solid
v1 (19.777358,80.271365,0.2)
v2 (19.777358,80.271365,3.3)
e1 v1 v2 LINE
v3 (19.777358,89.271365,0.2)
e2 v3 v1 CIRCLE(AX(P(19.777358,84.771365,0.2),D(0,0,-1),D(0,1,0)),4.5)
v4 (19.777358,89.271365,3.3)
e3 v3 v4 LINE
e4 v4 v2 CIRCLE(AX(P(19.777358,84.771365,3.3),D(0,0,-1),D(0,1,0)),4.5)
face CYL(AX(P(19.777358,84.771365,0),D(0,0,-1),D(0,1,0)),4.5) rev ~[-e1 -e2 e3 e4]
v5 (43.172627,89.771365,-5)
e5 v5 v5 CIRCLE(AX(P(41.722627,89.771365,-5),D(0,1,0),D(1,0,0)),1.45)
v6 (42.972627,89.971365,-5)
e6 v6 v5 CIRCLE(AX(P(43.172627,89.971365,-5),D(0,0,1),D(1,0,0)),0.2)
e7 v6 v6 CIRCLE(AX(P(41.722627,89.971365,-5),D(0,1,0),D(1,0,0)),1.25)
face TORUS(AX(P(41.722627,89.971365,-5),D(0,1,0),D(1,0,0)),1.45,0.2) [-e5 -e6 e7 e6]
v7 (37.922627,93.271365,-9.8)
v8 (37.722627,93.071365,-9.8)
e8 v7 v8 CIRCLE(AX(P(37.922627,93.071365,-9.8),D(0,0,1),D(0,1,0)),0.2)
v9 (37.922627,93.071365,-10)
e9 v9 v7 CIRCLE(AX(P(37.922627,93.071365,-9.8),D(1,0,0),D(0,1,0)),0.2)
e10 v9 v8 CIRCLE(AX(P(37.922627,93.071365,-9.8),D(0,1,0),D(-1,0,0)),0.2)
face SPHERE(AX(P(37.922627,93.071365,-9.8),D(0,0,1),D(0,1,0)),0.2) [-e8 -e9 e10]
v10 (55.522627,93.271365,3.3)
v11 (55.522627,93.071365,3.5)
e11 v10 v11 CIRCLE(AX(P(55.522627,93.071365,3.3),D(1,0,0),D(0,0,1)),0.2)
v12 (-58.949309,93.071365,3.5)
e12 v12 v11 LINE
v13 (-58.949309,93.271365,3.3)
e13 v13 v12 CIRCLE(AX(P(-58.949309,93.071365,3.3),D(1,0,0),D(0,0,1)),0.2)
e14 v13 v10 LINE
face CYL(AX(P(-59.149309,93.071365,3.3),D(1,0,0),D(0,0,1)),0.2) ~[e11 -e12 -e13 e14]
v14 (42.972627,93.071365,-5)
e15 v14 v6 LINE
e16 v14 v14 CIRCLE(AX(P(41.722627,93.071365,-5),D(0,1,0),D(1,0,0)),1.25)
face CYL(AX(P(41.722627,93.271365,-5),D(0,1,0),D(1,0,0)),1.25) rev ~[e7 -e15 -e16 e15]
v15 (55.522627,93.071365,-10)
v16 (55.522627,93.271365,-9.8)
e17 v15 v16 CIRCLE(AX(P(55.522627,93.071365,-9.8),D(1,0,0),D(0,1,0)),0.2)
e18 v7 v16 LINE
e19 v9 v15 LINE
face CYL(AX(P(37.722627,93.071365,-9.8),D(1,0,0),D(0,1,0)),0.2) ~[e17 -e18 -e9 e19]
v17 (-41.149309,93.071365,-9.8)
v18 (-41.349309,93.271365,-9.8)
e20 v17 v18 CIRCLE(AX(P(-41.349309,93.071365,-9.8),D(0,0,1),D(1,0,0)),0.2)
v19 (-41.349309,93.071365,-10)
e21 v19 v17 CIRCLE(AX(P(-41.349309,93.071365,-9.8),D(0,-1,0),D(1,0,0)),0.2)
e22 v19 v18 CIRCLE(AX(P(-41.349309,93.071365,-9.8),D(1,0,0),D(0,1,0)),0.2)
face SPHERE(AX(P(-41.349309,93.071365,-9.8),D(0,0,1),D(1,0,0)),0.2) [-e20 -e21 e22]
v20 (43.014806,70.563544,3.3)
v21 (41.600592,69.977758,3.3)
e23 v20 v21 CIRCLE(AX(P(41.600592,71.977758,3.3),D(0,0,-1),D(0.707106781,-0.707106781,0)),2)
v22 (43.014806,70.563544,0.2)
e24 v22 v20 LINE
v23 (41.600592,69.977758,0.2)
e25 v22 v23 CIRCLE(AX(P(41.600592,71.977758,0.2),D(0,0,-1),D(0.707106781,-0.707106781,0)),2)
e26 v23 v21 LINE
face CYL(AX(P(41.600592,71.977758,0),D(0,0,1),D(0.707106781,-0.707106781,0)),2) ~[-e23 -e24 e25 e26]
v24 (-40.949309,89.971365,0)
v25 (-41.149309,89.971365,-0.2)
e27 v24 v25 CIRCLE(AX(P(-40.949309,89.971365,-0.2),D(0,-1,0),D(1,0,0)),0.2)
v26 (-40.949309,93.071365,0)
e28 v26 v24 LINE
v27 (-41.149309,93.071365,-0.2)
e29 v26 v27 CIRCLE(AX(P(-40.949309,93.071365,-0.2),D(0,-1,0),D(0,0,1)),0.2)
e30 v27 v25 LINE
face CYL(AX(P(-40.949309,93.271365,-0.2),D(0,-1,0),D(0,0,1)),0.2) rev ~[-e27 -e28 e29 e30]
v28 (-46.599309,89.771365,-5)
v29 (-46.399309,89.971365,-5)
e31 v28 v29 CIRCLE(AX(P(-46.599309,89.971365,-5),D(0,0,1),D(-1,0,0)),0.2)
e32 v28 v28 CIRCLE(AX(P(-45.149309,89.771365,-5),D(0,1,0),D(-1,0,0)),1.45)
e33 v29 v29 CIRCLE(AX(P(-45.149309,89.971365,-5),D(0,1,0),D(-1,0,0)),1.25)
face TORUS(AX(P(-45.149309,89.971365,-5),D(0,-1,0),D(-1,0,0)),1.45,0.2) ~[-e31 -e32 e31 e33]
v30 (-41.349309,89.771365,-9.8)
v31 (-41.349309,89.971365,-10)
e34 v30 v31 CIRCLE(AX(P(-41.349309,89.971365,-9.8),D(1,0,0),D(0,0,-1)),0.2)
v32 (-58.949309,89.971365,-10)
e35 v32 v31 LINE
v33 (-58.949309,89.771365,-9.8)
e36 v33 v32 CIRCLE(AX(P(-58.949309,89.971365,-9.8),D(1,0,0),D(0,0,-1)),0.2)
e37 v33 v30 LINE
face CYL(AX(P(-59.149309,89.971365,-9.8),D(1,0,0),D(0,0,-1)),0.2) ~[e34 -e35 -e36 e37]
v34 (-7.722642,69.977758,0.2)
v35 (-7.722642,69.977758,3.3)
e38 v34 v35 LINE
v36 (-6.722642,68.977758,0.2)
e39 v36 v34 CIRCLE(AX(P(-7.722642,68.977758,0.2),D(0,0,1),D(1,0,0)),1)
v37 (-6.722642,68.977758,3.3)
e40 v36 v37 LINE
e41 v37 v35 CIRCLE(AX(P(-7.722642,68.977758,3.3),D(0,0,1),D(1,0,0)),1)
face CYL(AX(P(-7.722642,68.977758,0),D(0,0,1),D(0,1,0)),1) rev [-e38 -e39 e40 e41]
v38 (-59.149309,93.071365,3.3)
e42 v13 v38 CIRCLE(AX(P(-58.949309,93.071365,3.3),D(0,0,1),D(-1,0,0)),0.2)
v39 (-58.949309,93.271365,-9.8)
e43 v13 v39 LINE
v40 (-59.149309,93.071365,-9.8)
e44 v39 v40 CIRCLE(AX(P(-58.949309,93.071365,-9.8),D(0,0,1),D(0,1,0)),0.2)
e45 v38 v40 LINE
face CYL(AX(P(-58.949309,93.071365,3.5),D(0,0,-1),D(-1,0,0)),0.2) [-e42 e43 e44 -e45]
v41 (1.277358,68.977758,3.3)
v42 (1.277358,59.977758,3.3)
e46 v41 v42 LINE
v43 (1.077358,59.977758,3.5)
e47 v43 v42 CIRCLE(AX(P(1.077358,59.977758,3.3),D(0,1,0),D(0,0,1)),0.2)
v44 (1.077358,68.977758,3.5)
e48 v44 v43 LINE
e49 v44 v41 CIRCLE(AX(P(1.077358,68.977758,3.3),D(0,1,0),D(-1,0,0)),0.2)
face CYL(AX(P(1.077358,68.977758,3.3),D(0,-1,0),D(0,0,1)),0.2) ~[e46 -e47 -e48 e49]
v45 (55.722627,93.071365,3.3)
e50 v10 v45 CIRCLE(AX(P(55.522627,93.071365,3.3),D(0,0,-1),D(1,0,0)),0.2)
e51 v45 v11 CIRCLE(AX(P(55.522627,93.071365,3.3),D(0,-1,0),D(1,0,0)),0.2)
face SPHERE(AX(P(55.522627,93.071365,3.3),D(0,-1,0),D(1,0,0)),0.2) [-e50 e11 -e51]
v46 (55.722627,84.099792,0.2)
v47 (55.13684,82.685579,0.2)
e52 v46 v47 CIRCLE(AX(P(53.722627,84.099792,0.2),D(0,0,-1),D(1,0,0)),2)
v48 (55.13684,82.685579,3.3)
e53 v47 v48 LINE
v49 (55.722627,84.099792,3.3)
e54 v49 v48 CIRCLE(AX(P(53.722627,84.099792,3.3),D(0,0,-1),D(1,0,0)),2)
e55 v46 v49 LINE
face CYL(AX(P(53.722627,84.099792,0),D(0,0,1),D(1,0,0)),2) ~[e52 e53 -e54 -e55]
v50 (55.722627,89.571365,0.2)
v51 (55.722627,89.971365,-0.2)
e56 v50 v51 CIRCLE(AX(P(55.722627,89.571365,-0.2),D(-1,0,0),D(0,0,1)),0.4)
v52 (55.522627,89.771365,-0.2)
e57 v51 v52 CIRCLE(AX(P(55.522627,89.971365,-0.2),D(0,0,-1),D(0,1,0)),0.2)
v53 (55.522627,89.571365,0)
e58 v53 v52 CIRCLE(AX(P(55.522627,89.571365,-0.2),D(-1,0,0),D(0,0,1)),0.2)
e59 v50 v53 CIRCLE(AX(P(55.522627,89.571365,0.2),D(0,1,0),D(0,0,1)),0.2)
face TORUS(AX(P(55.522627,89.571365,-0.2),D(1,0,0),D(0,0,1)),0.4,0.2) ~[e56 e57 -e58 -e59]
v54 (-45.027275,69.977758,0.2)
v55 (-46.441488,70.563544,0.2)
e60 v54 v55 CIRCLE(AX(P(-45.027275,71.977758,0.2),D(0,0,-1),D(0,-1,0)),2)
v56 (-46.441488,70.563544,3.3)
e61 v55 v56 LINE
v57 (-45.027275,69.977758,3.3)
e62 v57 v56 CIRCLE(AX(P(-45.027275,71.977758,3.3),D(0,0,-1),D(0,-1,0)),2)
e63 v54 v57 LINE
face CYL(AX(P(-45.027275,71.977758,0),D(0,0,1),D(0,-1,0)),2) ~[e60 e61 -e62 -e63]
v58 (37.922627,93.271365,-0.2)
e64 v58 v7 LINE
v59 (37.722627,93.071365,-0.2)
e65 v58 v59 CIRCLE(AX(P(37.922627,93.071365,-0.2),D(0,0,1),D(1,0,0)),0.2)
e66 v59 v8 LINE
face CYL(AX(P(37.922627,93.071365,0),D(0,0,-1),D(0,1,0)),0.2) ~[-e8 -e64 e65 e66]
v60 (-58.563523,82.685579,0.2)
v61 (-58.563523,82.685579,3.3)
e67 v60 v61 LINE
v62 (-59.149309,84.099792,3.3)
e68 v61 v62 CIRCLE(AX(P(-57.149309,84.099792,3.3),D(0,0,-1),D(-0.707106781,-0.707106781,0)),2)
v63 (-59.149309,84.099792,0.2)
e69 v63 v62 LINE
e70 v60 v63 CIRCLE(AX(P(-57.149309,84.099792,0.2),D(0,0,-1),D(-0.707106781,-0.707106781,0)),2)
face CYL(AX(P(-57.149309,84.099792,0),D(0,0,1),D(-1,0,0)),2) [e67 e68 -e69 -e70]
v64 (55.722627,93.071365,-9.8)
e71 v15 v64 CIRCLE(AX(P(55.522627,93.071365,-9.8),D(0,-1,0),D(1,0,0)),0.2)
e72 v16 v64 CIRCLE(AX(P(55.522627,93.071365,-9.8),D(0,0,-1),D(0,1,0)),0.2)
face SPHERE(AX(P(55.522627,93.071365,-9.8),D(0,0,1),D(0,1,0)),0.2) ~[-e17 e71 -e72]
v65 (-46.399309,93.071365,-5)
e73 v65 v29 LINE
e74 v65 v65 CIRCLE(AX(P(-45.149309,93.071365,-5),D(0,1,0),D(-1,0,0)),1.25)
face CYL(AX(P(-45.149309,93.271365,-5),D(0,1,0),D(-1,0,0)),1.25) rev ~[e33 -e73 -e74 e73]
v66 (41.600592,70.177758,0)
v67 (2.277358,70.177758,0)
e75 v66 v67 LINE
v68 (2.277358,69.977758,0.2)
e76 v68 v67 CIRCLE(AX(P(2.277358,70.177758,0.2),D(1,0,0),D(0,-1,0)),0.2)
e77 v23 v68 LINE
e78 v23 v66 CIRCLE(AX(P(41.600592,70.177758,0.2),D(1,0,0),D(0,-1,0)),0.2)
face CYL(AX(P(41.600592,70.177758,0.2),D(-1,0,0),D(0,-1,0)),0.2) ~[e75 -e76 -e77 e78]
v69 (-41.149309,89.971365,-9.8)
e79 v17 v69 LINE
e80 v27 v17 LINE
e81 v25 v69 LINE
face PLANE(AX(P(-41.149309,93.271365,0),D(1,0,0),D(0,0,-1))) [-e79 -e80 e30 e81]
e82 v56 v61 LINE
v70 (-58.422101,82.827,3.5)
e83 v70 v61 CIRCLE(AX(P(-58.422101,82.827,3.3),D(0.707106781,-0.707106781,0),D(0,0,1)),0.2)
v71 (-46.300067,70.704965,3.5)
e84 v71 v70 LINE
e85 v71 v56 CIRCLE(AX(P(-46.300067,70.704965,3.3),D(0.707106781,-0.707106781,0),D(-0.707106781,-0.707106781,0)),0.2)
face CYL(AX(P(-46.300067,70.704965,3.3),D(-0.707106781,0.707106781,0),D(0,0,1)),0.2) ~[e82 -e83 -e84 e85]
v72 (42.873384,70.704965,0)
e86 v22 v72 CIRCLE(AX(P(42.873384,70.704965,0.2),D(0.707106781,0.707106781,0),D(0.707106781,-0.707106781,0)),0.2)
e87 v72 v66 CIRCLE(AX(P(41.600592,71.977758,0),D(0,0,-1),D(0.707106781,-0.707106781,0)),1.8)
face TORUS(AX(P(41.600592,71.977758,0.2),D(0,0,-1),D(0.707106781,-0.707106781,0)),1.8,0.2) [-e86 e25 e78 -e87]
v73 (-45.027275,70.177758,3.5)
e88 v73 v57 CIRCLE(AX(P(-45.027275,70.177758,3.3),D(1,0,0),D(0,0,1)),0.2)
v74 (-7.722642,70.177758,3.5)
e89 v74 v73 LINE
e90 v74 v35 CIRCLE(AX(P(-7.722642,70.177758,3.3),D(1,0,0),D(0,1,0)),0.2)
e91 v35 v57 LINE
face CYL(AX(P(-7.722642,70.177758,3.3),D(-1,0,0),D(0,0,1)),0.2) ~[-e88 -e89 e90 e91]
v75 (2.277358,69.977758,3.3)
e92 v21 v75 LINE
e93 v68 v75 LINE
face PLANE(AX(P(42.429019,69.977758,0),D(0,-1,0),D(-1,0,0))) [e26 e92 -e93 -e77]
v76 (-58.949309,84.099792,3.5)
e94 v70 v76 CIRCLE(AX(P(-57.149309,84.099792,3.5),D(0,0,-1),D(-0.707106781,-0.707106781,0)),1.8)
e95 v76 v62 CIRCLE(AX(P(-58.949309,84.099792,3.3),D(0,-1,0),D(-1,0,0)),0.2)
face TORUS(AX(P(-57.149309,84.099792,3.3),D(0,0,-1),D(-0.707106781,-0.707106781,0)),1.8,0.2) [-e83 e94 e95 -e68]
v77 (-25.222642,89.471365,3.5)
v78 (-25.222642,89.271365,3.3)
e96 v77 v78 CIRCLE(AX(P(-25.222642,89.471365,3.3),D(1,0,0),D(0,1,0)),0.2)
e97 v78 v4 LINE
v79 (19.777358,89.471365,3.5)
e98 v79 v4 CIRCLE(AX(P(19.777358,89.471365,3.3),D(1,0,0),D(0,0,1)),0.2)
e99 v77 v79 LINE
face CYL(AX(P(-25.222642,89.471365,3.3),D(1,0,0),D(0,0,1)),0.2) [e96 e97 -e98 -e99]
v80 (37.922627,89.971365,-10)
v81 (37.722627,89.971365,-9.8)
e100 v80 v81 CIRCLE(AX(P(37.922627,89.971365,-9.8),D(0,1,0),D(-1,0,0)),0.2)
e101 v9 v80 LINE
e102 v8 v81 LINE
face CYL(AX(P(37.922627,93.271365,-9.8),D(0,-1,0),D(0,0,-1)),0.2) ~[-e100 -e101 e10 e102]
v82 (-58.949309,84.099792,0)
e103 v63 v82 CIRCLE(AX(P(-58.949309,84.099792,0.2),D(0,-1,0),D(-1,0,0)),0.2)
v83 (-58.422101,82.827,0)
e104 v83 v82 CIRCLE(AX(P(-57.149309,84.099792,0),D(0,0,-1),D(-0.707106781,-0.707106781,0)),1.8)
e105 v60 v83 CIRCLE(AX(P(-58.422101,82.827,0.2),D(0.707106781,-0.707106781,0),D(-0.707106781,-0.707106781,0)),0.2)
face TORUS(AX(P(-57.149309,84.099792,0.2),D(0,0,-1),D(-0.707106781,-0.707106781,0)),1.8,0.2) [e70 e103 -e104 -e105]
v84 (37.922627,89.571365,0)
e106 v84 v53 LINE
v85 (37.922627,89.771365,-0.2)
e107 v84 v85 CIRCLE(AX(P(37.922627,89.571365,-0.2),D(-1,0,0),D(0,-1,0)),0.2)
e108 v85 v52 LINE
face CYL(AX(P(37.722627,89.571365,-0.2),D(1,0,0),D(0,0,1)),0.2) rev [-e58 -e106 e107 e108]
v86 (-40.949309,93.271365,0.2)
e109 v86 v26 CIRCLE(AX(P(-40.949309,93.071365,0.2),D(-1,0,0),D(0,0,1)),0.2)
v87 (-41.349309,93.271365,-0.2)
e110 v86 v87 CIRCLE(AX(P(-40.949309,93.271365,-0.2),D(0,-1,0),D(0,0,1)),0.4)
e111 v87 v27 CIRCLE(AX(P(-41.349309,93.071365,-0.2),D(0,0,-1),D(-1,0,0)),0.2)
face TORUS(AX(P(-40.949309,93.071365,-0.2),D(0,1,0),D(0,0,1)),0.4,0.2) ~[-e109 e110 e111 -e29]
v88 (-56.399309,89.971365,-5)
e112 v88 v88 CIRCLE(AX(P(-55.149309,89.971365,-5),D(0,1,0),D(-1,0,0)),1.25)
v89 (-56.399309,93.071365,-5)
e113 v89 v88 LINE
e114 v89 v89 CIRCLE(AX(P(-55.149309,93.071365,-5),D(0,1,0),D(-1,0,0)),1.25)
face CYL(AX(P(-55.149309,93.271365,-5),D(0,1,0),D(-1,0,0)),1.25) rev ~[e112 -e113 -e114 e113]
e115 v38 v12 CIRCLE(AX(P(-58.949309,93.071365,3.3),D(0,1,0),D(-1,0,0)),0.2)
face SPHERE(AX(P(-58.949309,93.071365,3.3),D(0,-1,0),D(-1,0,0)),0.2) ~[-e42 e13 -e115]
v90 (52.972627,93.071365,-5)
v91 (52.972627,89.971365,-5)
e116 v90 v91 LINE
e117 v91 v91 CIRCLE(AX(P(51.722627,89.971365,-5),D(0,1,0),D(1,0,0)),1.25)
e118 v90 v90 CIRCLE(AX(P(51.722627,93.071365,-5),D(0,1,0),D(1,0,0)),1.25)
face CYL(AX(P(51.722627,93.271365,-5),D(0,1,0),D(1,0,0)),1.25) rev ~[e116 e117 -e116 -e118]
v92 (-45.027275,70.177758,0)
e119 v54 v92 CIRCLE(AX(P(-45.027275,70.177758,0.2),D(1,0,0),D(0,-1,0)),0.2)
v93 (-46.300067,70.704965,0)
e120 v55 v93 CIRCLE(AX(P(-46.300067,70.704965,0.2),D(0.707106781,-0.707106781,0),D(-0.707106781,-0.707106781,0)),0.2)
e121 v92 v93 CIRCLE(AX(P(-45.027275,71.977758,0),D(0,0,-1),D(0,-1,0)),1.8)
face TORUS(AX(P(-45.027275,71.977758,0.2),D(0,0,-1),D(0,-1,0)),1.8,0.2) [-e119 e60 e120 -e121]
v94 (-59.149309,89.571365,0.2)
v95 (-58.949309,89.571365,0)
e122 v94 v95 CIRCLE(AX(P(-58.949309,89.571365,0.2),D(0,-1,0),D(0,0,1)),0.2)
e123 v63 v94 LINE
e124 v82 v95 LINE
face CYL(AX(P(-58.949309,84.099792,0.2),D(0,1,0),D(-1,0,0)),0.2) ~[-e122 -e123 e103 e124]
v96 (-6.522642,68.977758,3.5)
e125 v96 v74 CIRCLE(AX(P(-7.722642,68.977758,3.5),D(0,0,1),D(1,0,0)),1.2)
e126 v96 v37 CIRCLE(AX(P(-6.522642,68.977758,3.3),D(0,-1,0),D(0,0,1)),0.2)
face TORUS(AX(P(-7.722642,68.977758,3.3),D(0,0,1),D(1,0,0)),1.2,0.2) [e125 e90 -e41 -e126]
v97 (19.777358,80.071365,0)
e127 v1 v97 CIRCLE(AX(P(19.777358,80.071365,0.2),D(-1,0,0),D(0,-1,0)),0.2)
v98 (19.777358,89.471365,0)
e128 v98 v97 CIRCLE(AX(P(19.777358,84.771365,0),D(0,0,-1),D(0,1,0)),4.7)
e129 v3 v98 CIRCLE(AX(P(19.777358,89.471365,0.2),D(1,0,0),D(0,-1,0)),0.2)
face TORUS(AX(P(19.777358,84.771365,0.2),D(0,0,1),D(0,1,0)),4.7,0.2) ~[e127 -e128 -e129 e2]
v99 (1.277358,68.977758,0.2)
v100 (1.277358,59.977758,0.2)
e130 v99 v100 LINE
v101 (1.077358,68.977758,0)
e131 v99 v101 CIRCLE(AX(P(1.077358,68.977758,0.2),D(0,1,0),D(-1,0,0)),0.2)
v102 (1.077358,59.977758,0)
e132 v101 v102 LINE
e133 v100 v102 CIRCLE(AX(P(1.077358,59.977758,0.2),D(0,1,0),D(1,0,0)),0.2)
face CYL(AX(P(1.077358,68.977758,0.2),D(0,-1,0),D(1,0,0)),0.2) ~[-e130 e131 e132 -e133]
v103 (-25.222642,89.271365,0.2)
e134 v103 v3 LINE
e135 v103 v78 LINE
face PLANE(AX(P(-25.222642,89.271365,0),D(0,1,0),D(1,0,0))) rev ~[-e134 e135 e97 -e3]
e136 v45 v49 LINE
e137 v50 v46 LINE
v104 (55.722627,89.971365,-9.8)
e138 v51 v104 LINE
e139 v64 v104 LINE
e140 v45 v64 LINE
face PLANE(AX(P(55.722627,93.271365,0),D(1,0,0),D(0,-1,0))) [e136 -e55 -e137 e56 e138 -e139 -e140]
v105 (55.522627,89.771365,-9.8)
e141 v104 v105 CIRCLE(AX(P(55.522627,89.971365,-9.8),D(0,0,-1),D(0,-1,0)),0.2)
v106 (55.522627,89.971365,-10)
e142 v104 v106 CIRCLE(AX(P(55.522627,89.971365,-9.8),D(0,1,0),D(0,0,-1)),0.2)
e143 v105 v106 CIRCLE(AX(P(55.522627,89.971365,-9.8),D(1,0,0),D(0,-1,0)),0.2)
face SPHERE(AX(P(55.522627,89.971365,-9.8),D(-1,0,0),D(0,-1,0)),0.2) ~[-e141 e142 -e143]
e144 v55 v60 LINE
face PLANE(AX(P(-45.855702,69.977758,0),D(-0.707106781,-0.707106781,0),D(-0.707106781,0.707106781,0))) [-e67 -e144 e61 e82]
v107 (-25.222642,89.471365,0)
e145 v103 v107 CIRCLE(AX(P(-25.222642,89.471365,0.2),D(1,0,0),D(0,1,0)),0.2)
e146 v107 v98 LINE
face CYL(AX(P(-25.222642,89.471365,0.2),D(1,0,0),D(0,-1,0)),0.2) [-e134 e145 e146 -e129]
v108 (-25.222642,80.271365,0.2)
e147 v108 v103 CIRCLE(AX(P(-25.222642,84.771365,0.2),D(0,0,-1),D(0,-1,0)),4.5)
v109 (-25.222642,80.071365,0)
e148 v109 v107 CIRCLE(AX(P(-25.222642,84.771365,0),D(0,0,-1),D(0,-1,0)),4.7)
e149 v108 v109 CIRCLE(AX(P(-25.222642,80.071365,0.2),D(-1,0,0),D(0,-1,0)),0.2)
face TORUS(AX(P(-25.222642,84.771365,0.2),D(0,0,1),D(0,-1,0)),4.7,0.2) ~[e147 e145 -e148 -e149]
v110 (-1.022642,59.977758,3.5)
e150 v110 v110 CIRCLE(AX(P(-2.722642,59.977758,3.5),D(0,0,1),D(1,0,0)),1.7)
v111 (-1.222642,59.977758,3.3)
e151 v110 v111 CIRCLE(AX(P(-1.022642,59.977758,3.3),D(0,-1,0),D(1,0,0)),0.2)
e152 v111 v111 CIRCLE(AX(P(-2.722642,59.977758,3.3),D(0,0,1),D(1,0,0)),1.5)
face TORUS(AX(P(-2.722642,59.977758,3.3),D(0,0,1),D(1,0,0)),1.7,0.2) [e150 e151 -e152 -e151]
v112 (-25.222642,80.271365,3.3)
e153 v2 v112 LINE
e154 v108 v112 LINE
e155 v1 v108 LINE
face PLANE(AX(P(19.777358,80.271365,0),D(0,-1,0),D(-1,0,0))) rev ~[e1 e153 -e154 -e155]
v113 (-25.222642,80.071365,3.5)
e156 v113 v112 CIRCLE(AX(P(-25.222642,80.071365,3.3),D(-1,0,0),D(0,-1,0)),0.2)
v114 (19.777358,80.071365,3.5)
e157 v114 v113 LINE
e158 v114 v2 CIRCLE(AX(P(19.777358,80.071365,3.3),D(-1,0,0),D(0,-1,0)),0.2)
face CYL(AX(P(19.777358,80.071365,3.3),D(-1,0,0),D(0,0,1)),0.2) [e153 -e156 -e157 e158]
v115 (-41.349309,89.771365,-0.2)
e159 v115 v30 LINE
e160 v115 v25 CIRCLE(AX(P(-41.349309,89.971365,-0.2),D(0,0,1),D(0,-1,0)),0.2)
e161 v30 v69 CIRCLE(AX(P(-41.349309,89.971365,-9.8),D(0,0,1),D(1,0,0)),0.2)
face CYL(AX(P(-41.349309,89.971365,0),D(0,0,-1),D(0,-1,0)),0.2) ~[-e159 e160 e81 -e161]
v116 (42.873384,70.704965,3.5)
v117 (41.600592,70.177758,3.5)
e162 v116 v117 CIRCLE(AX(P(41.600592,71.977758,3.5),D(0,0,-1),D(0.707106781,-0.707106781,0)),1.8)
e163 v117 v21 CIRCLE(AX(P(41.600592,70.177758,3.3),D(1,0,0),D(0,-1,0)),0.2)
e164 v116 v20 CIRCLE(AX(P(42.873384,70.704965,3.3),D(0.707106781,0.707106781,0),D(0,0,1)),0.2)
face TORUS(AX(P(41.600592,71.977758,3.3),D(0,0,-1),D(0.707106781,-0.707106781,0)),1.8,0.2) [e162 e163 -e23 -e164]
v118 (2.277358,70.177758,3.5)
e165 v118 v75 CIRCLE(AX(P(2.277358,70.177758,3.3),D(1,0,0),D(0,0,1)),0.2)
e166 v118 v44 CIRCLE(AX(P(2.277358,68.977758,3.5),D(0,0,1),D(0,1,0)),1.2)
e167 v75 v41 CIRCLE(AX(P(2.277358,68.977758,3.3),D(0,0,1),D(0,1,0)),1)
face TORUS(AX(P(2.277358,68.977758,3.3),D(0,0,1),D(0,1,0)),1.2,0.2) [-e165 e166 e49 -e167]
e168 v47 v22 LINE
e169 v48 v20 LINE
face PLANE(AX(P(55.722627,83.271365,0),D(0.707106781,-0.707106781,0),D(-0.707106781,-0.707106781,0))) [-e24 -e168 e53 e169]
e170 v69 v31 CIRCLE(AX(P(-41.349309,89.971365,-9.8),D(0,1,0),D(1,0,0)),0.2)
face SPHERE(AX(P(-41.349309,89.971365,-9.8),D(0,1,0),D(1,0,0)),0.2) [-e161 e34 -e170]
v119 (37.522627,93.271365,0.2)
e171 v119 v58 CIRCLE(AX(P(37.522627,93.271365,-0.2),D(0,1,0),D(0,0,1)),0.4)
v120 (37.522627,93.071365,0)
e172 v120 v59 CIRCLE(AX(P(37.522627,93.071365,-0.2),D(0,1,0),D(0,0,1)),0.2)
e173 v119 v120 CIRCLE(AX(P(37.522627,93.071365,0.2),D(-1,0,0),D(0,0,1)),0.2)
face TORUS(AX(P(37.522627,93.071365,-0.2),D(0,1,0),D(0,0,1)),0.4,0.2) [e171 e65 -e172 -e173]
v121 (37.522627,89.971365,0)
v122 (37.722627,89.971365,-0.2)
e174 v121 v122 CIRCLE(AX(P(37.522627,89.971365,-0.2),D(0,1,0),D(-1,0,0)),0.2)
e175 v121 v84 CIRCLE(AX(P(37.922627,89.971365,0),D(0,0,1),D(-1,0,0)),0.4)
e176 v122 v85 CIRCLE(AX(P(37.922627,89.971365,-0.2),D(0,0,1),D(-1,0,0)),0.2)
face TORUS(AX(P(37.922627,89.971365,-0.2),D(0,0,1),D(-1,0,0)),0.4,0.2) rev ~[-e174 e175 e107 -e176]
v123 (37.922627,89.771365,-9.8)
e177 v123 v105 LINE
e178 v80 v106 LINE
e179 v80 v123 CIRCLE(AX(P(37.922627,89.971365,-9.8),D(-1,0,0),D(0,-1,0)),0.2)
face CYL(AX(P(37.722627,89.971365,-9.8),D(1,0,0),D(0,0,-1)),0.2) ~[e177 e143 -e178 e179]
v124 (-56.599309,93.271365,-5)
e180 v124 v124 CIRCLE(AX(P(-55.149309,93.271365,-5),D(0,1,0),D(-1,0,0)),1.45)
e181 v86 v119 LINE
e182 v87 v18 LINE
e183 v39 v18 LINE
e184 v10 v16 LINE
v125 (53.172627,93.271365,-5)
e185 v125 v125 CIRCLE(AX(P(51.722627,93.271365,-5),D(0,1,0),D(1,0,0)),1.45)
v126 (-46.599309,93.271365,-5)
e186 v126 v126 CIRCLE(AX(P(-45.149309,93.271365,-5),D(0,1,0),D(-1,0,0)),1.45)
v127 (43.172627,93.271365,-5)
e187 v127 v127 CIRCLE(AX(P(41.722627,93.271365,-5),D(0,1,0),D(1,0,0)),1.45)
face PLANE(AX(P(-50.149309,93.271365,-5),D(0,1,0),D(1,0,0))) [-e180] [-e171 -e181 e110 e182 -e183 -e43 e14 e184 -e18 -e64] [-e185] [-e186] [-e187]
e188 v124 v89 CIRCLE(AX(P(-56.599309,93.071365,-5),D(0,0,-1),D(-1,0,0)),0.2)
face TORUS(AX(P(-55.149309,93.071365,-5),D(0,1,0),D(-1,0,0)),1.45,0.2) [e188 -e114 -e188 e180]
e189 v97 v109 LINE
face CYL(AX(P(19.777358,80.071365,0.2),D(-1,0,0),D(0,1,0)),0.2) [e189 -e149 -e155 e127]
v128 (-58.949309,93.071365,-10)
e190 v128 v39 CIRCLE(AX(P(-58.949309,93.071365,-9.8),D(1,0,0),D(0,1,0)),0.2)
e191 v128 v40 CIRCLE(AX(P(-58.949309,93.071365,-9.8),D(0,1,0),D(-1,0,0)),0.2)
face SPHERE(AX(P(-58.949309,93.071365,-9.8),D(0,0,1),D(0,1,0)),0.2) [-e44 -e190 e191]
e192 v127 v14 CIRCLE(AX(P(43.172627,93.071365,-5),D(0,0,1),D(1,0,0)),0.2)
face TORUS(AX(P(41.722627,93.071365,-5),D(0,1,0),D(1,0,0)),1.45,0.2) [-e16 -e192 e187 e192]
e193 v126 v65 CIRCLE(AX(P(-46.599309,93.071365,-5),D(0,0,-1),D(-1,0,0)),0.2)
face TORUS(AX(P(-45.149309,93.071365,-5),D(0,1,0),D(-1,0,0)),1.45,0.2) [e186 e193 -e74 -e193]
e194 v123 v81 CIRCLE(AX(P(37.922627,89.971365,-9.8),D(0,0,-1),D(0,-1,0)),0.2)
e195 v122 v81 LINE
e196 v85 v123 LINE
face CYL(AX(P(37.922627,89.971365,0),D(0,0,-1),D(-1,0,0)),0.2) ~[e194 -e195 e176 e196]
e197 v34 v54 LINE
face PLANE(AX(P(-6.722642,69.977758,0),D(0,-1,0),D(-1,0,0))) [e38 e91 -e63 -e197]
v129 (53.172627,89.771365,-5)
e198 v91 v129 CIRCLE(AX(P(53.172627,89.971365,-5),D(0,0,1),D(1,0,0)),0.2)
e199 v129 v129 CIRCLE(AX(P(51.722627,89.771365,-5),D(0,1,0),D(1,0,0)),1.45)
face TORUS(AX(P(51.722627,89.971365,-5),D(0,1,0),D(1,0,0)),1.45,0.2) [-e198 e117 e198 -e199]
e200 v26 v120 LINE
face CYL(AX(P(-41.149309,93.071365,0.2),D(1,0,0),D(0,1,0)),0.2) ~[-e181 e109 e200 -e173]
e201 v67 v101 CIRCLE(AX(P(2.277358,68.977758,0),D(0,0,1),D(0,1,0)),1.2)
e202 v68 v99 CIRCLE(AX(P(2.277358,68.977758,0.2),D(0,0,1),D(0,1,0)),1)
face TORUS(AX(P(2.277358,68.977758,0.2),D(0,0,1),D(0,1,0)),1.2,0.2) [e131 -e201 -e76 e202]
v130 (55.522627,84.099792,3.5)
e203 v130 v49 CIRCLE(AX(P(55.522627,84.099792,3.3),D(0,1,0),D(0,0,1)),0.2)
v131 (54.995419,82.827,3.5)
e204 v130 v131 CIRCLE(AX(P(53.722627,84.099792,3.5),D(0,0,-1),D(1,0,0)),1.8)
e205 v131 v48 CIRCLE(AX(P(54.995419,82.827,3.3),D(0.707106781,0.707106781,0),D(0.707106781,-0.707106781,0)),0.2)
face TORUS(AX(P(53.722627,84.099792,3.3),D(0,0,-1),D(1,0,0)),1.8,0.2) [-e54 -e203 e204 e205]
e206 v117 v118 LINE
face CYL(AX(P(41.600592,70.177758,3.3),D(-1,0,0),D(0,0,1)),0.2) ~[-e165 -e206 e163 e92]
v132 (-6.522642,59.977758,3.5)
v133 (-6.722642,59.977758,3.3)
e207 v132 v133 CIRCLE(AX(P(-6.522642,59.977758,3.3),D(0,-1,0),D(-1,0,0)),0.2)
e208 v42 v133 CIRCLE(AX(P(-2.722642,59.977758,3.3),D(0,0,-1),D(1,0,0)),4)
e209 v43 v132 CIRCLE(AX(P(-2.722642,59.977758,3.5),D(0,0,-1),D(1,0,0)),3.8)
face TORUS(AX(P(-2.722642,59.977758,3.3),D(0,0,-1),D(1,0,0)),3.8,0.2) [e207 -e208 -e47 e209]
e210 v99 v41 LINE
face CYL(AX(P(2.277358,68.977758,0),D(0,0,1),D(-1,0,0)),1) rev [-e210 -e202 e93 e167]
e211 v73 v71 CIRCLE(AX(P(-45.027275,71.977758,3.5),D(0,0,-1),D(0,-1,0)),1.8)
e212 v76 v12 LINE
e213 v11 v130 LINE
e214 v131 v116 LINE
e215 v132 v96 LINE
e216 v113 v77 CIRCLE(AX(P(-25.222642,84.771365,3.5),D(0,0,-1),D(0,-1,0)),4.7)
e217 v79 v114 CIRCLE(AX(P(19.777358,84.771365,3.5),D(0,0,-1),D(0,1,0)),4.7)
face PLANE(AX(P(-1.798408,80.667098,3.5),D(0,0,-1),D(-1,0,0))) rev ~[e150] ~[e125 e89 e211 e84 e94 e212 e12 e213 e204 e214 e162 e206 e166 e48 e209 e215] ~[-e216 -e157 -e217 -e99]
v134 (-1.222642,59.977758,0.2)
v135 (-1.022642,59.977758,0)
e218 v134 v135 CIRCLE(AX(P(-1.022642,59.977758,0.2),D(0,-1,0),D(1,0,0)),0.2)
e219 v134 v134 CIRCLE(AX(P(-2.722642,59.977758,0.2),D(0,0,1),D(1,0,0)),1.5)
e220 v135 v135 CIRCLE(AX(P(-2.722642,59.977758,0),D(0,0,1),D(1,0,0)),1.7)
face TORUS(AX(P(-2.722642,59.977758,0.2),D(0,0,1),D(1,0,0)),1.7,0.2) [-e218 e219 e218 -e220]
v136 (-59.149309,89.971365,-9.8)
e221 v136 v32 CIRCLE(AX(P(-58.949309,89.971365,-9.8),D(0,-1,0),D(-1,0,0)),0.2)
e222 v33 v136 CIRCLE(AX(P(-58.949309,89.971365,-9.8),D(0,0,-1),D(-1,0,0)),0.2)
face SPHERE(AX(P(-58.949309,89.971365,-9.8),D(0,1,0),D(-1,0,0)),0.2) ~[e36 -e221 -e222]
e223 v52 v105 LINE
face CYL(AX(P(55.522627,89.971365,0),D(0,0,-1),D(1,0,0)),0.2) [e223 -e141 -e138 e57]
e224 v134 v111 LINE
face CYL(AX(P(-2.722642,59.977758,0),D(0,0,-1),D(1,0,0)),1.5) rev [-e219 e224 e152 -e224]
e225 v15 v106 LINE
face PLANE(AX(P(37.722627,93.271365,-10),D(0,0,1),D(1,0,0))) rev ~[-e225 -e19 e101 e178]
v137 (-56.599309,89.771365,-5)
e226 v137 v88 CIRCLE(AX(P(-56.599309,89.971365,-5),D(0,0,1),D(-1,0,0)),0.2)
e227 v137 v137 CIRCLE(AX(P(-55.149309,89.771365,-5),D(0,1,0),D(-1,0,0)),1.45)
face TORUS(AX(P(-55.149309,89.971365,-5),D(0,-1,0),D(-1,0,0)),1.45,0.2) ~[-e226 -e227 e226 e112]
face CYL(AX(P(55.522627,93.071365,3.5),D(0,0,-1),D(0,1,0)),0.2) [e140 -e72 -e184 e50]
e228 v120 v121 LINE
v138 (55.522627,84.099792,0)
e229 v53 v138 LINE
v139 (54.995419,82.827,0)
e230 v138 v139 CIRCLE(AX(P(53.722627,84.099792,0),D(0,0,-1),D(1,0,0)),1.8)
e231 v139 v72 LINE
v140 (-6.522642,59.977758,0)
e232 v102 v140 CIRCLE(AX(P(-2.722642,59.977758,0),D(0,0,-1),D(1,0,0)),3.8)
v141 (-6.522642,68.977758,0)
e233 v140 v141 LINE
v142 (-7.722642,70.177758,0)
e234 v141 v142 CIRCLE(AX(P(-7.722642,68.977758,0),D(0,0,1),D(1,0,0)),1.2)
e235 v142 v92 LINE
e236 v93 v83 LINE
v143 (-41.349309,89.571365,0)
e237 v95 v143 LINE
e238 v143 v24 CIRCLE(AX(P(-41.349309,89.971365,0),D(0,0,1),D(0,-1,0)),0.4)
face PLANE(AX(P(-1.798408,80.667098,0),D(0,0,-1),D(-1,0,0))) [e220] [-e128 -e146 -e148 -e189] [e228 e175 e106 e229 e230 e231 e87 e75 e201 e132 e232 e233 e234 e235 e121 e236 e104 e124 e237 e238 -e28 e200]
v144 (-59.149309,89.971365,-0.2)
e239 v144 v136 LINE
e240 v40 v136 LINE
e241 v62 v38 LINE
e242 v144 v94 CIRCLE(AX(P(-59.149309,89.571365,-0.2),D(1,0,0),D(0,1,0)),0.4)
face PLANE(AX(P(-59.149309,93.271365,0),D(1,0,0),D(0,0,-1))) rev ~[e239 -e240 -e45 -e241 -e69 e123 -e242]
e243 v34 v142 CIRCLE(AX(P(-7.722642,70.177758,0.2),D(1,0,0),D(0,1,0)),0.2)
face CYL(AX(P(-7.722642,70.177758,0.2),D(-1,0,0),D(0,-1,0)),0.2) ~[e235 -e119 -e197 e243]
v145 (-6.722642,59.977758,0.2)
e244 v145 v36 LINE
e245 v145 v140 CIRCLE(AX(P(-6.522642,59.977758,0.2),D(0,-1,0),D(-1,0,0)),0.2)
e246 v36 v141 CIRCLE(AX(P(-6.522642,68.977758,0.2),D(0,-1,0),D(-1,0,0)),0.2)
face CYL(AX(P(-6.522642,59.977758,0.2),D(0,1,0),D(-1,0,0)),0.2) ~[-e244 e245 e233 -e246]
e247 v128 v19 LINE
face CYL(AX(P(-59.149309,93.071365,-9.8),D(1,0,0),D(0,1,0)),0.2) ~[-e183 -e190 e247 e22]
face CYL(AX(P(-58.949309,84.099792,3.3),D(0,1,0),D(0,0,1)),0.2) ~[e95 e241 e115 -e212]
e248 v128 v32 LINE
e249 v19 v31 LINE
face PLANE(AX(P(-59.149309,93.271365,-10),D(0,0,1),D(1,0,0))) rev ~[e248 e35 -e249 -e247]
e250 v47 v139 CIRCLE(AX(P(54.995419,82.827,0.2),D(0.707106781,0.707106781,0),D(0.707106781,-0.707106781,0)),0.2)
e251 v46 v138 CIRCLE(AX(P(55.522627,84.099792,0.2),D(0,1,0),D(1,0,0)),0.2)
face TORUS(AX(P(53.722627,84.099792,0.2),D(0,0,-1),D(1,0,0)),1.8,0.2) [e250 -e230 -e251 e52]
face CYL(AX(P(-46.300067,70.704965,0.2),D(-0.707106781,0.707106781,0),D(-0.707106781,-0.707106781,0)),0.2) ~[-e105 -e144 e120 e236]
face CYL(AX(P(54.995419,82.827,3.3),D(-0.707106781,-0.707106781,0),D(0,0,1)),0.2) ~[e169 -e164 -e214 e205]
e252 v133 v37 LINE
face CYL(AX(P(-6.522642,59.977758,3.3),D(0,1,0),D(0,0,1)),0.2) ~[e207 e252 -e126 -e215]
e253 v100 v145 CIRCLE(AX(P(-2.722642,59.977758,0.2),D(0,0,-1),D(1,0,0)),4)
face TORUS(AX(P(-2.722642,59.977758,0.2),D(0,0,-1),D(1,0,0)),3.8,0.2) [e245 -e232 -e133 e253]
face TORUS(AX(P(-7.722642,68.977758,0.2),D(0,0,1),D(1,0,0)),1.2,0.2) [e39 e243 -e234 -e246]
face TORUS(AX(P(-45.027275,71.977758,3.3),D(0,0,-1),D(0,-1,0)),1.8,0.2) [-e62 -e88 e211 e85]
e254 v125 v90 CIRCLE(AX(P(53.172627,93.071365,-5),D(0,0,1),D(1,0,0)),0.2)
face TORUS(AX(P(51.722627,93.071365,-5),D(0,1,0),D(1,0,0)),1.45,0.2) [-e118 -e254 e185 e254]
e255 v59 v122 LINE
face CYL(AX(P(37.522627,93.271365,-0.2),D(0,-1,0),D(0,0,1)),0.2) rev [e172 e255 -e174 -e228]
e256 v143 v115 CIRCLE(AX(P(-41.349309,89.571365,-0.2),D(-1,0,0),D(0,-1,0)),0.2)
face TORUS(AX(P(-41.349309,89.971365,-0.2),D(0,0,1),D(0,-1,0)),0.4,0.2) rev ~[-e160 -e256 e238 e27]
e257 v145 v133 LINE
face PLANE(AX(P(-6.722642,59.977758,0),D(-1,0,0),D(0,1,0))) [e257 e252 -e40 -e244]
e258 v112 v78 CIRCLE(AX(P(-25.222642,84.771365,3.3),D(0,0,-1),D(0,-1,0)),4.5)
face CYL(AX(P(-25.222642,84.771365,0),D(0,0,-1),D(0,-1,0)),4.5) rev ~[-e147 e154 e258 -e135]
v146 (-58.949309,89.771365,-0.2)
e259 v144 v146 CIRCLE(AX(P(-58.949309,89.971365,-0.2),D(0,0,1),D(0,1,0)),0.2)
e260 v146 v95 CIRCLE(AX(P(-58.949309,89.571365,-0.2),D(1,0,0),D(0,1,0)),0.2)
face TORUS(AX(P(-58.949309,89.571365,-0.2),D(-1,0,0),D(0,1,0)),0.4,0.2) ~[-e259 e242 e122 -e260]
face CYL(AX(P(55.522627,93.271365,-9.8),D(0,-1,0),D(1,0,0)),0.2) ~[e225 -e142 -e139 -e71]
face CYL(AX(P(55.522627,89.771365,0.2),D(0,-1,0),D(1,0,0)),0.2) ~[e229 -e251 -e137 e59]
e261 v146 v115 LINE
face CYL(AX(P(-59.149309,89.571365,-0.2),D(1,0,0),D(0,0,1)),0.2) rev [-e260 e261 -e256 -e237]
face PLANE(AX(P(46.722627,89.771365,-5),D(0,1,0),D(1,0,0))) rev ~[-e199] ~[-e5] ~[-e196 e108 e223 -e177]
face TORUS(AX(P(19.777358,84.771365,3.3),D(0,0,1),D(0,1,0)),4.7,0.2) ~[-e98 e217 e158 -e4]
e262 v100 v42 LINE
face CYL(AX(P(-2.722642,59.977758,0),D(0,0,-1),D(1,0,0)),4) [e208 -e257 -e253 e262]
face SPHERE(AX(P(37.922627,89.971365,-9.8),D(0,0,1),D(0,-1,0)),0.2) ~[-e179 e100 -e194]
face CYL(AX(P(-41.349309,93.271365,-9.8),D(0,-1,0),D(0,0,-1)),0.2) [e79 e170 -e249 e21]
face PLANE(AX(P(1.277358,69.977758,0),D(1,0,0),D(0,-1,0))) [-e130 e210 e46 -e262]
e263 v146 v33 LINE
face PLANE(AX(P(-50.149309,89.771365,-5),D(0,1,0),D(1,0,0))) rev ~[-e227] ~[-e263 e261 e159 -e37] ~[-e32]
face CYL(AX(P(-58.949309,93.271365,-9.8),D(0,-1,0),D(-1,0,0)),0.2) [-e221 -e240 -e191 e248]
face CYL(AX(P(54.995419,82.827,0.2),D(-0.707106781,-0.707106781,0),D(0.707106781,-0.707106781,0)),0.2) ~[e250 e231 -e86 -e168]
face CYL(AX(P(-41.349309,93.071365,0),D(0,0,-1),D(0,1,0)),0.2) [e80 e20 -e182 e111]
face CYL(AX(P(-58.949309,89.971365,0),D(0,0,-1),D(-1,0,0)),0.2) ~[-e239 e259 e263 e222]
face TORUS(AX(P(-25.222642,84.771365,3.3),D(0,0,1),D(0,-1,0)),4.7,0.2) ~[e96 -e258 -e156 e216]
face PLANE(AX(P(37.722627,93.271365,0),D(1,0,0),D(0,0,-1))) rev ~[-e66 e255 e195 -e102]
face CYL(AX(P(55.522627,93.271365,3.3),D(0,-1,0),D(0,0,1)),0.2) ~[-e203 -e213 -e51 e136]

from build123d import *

# Parameters (mm, degrees)
SKETCH5_R           = 1.5
BOSS_EXTRUDE1_DEPTH = 3.5
SKETCH6_W           = 18
SKETCH6_H           = 10
SKETCH6_R           = 1.25
BOSS_EXTRUDE2_DEPTH = 3.5
FILLET1_R           = 2
FILLET2_R           = 1
FILLET3_R           = 0.2


with BuildPart() as part:
    # Sketch5 → Boss-Extrude1 (new body)
    with BuildSketch(Plane.XY):
        with BuildLine():
            Line((-6.722642002, 69.977757539), (-45.855701779, 69.977757539))
            Line((-45.855701779, 69.977757539), (-59.149309265, 83.271365025))
            Line((-59.149309265, 83.271365025), (-59.149309265, 93.271365025))
            Line((-59.149309265, 93.271365025), (55.722626744, 93.271365025))
            Line((55.722626744, 93.271365025), (55.722626744, 83.271365025))
            Line((55.722626744, 83.271365025), (42.429019258, 69.977757539))
            Line((42.429019258, 69.977757539), (1.277357998, 69.977757539))
            Line((1.277357998, 69.977757539), (1.277357998, 59.977757539))
            ThreePointArc((1.277357998, 59.977757539), (-2.722642002, 55.977757539), (-6.722642002, 59.977757539))
            Line((-6.722642002, 59.977757539), (-6.722642002, 69.977757539))
        make_face()
        with Locations((-2.722642002, 59.977757539)):
            Circle(SKETCH5_R, mode=Mode.SUBTRACT)
        with BuildLine():
            Line((-25.222642002, 89.271365025), (19.777357998, 89.271365025))
            ThreePointArc((19.777357998, 89.271365025), (24.277357998, 84.771365025), (19.777357998, 80.271365025))
            Line((19.777357998, 80.271365025), (-25.222642002, 80.271365025))
            ThreePointArc((-25.222642002, 80.271365025), (-29.722642002, 84.771365025), (-25.222642002, 89.271365025))
        make_face(mode=Mode.SUBTRACT)
    extrude(amount=BOSS_EXTRUDE1_DEPTH)

    # Sketch6 → Boss-Extrude2 (add)
    # profile 1 of 2: a face of its own
    with BuildSketch(Plane(origin=(0, 93.271365025, 0), x_dir=(1, 0, 0), z_dir=(0, 1, 0))):
        with Locations((-50.149309265, 5)):
            Rectangle(SKETCH6_W, SKETCH6_H)
        with Locations(Location((-55.149309265, 5, 0), (0, 0, 180))):
            Circle(SKETCH6_R, mode=Mode.SUBTRACT)
        with Locations(Location((-45.149309265, 5, 0), (0, 0, 180))):
            Circle(SKETCH6_R, mode=Mode.SUBTRACT)
    # profile 2 of 2: a face of its own
    with BuildSketch(Plane(origin=(0, 93.271365025, 0), x_dir=(1, 0, 0), z_dir=(0, 1, 0))):
        with Locations((46.722626744, 5)):
            Rectangle(SKETCH6_W, SKETCH6_H)
        with Locations((41.722626744, 5)):
            Circle(SKETCH6_R, mode=Mode.SUBTRACT)
        with Locations((51.722626744, 5)):
            Circle(SKETCH6_R, mode=Mode.SUBTRACT)
    extrude(amount=-BOSS_EXTRUDE2_DEPTH)

    # Fillet1
    fillet1_edges = [part.edges().sort_by_distance(p)[0] for p in [
        (55.722626744, 83.271365025, 1.75),
        (42.429019258, 69.977757539, 1.75),
        (-45.855701779, 69.977757539, 1.75),
        (-59.149309265, 83.271365025, 1.75),
    ]]
    fillet(fillet1_edges, radius=FILLET1_R)

    # Fillet2
    fillet2_edges = [part.edges().sort_by_distance(p)[0] for p in [
        (1.277357998, 69.977757539, 1.75),
        (-6.722642002, 69.977757539, 1.75),
    ]]
    fillet(fillet2_edges, radius=FILLET2_R)

    # Fillet3
    fillet3_edges = [part.edges().sort_by_distance(p)[0] for p in [
        (-6.722642002, 64.477757539, 0),
        (-6.722642002, 64.477757539, 3.5),
        (21.938975066, 69.977757539, 0),
        (21.938975066, 69.977757539, 3.5),
        (-7.01553522, 69.68486432, 0),
        (-7.01553522, 69.68486432, 3.5),
        (1.570251217, 69.68486432, 0),
        (1.570251217, 69.68486432, 3.5),
        (1.277357998, 64.477757539, 0),
        (-2.722642002, 55.977757539, 0),
        (55.722626744, 93.271365025, -3.25),
        (-59.149309265, 93.271365025, -3.25),
        (-2.722642002, 55.977757539, 3.5),
        (-4.222642002, 59.977757539, 0),
        (-4.222642002, 59.977757539, 3.5),
        (1.277357998, 64.477757539, 3.5),
        (-29.722642002, 84.771365025, 0),
        (-2.722642002, 80.271365025, 0),
        (24.277357998, 84.771365025, 0),
        (-2.722642002, 89.271365025, 0),
        (-29.722642002, 84.771365025, 3.5),
        (-2.722642002, 80.271365025, 3.5),
        (24.277357998, 84.771365025, 3.5),
        (-2.722642002, 89.271365025, 3.5),
        (-1.71334126, 93.271365025, 0),
        (-1.71334126, 93.271365025, 3.5),
        (-59.149309265, 86.935578588, 0),
        (-41.149309265, 93.271365025, -5),
        (-41.149309265, 91.521365025, -10),
        (-41.149309265, 91.521365025, 0),
        (-50.149309265, 93.271365025, -10),
        (-59.149309265, 91.521365025, -10),
        (-53.899309265, 89.771365025, -5),
        (-43.899309265, 89.771365025, -5),
        (-41.149309265, 89.771365025, -5),
        (-50.149309265, 89.771365025, 0),
        (-59.149309265, 89.771365025, -5),
        (-50.149309265, 89.771365025, -10),
        (-43.899309265, 93.271365025, -5),
        (-53.899309265, 93.271365025, -5),
        (50.472626744, 93.271365025, -5),
        (37.722626744, 93.271365025, -5),
        (46.722626744, 93.271365025, -10),
        (40.472626744, 93.271365025, -5),
        (37.722626744, 89.771365025, -5),
        (37.722626744, 91.521365025, 0),
        (46.722626744, 89.771365025, -10),
        (37.722626744, 91.521365025, -10),
        (55.722626744, 89.771365025, -5),
        (55.722626744, 91.521365025, -10),
        (46.722626744, 89.771365025, 0),
        (50.472626744, 89.771365025, -5),
        (40.472626744, 89.771365025, -5),
        (49.075823001, 76.624561282, 0),
        (49.075823001, 76.624561282, 3.5),
        (55.722626744, 86.935578588, 0),
        (-26.374958328, 69.977757539, 0),
        (-52.502505522, 76.624561282, 0),
        (-58.99706833, 83.334425285, 0),
        (-45.792641519, 70.129998474, 0),
        (55.570385809, 83.334425285, 0),
        (42.365958998, 70.129998474, 0),
        (-59.149309265, 88.685578588, 3.5),
        (-52.502505522, 76.624561282, 3.5),
        (-26.374958328, 69.977757539, 3.5),
        (55.722626744, 88.685578588, 3.5),
        (-58.99706833, 83.334425285, 3.5),
        (-45.792641519, 70.129998474, 3.5),
        (55.570385809, 83.334425285, 3.5),
        (42.365958998, 70.129998474, 3.5),
    ]]
    fillet(fillet3_edges, radius=FILLET3_R)


solid = part.part
